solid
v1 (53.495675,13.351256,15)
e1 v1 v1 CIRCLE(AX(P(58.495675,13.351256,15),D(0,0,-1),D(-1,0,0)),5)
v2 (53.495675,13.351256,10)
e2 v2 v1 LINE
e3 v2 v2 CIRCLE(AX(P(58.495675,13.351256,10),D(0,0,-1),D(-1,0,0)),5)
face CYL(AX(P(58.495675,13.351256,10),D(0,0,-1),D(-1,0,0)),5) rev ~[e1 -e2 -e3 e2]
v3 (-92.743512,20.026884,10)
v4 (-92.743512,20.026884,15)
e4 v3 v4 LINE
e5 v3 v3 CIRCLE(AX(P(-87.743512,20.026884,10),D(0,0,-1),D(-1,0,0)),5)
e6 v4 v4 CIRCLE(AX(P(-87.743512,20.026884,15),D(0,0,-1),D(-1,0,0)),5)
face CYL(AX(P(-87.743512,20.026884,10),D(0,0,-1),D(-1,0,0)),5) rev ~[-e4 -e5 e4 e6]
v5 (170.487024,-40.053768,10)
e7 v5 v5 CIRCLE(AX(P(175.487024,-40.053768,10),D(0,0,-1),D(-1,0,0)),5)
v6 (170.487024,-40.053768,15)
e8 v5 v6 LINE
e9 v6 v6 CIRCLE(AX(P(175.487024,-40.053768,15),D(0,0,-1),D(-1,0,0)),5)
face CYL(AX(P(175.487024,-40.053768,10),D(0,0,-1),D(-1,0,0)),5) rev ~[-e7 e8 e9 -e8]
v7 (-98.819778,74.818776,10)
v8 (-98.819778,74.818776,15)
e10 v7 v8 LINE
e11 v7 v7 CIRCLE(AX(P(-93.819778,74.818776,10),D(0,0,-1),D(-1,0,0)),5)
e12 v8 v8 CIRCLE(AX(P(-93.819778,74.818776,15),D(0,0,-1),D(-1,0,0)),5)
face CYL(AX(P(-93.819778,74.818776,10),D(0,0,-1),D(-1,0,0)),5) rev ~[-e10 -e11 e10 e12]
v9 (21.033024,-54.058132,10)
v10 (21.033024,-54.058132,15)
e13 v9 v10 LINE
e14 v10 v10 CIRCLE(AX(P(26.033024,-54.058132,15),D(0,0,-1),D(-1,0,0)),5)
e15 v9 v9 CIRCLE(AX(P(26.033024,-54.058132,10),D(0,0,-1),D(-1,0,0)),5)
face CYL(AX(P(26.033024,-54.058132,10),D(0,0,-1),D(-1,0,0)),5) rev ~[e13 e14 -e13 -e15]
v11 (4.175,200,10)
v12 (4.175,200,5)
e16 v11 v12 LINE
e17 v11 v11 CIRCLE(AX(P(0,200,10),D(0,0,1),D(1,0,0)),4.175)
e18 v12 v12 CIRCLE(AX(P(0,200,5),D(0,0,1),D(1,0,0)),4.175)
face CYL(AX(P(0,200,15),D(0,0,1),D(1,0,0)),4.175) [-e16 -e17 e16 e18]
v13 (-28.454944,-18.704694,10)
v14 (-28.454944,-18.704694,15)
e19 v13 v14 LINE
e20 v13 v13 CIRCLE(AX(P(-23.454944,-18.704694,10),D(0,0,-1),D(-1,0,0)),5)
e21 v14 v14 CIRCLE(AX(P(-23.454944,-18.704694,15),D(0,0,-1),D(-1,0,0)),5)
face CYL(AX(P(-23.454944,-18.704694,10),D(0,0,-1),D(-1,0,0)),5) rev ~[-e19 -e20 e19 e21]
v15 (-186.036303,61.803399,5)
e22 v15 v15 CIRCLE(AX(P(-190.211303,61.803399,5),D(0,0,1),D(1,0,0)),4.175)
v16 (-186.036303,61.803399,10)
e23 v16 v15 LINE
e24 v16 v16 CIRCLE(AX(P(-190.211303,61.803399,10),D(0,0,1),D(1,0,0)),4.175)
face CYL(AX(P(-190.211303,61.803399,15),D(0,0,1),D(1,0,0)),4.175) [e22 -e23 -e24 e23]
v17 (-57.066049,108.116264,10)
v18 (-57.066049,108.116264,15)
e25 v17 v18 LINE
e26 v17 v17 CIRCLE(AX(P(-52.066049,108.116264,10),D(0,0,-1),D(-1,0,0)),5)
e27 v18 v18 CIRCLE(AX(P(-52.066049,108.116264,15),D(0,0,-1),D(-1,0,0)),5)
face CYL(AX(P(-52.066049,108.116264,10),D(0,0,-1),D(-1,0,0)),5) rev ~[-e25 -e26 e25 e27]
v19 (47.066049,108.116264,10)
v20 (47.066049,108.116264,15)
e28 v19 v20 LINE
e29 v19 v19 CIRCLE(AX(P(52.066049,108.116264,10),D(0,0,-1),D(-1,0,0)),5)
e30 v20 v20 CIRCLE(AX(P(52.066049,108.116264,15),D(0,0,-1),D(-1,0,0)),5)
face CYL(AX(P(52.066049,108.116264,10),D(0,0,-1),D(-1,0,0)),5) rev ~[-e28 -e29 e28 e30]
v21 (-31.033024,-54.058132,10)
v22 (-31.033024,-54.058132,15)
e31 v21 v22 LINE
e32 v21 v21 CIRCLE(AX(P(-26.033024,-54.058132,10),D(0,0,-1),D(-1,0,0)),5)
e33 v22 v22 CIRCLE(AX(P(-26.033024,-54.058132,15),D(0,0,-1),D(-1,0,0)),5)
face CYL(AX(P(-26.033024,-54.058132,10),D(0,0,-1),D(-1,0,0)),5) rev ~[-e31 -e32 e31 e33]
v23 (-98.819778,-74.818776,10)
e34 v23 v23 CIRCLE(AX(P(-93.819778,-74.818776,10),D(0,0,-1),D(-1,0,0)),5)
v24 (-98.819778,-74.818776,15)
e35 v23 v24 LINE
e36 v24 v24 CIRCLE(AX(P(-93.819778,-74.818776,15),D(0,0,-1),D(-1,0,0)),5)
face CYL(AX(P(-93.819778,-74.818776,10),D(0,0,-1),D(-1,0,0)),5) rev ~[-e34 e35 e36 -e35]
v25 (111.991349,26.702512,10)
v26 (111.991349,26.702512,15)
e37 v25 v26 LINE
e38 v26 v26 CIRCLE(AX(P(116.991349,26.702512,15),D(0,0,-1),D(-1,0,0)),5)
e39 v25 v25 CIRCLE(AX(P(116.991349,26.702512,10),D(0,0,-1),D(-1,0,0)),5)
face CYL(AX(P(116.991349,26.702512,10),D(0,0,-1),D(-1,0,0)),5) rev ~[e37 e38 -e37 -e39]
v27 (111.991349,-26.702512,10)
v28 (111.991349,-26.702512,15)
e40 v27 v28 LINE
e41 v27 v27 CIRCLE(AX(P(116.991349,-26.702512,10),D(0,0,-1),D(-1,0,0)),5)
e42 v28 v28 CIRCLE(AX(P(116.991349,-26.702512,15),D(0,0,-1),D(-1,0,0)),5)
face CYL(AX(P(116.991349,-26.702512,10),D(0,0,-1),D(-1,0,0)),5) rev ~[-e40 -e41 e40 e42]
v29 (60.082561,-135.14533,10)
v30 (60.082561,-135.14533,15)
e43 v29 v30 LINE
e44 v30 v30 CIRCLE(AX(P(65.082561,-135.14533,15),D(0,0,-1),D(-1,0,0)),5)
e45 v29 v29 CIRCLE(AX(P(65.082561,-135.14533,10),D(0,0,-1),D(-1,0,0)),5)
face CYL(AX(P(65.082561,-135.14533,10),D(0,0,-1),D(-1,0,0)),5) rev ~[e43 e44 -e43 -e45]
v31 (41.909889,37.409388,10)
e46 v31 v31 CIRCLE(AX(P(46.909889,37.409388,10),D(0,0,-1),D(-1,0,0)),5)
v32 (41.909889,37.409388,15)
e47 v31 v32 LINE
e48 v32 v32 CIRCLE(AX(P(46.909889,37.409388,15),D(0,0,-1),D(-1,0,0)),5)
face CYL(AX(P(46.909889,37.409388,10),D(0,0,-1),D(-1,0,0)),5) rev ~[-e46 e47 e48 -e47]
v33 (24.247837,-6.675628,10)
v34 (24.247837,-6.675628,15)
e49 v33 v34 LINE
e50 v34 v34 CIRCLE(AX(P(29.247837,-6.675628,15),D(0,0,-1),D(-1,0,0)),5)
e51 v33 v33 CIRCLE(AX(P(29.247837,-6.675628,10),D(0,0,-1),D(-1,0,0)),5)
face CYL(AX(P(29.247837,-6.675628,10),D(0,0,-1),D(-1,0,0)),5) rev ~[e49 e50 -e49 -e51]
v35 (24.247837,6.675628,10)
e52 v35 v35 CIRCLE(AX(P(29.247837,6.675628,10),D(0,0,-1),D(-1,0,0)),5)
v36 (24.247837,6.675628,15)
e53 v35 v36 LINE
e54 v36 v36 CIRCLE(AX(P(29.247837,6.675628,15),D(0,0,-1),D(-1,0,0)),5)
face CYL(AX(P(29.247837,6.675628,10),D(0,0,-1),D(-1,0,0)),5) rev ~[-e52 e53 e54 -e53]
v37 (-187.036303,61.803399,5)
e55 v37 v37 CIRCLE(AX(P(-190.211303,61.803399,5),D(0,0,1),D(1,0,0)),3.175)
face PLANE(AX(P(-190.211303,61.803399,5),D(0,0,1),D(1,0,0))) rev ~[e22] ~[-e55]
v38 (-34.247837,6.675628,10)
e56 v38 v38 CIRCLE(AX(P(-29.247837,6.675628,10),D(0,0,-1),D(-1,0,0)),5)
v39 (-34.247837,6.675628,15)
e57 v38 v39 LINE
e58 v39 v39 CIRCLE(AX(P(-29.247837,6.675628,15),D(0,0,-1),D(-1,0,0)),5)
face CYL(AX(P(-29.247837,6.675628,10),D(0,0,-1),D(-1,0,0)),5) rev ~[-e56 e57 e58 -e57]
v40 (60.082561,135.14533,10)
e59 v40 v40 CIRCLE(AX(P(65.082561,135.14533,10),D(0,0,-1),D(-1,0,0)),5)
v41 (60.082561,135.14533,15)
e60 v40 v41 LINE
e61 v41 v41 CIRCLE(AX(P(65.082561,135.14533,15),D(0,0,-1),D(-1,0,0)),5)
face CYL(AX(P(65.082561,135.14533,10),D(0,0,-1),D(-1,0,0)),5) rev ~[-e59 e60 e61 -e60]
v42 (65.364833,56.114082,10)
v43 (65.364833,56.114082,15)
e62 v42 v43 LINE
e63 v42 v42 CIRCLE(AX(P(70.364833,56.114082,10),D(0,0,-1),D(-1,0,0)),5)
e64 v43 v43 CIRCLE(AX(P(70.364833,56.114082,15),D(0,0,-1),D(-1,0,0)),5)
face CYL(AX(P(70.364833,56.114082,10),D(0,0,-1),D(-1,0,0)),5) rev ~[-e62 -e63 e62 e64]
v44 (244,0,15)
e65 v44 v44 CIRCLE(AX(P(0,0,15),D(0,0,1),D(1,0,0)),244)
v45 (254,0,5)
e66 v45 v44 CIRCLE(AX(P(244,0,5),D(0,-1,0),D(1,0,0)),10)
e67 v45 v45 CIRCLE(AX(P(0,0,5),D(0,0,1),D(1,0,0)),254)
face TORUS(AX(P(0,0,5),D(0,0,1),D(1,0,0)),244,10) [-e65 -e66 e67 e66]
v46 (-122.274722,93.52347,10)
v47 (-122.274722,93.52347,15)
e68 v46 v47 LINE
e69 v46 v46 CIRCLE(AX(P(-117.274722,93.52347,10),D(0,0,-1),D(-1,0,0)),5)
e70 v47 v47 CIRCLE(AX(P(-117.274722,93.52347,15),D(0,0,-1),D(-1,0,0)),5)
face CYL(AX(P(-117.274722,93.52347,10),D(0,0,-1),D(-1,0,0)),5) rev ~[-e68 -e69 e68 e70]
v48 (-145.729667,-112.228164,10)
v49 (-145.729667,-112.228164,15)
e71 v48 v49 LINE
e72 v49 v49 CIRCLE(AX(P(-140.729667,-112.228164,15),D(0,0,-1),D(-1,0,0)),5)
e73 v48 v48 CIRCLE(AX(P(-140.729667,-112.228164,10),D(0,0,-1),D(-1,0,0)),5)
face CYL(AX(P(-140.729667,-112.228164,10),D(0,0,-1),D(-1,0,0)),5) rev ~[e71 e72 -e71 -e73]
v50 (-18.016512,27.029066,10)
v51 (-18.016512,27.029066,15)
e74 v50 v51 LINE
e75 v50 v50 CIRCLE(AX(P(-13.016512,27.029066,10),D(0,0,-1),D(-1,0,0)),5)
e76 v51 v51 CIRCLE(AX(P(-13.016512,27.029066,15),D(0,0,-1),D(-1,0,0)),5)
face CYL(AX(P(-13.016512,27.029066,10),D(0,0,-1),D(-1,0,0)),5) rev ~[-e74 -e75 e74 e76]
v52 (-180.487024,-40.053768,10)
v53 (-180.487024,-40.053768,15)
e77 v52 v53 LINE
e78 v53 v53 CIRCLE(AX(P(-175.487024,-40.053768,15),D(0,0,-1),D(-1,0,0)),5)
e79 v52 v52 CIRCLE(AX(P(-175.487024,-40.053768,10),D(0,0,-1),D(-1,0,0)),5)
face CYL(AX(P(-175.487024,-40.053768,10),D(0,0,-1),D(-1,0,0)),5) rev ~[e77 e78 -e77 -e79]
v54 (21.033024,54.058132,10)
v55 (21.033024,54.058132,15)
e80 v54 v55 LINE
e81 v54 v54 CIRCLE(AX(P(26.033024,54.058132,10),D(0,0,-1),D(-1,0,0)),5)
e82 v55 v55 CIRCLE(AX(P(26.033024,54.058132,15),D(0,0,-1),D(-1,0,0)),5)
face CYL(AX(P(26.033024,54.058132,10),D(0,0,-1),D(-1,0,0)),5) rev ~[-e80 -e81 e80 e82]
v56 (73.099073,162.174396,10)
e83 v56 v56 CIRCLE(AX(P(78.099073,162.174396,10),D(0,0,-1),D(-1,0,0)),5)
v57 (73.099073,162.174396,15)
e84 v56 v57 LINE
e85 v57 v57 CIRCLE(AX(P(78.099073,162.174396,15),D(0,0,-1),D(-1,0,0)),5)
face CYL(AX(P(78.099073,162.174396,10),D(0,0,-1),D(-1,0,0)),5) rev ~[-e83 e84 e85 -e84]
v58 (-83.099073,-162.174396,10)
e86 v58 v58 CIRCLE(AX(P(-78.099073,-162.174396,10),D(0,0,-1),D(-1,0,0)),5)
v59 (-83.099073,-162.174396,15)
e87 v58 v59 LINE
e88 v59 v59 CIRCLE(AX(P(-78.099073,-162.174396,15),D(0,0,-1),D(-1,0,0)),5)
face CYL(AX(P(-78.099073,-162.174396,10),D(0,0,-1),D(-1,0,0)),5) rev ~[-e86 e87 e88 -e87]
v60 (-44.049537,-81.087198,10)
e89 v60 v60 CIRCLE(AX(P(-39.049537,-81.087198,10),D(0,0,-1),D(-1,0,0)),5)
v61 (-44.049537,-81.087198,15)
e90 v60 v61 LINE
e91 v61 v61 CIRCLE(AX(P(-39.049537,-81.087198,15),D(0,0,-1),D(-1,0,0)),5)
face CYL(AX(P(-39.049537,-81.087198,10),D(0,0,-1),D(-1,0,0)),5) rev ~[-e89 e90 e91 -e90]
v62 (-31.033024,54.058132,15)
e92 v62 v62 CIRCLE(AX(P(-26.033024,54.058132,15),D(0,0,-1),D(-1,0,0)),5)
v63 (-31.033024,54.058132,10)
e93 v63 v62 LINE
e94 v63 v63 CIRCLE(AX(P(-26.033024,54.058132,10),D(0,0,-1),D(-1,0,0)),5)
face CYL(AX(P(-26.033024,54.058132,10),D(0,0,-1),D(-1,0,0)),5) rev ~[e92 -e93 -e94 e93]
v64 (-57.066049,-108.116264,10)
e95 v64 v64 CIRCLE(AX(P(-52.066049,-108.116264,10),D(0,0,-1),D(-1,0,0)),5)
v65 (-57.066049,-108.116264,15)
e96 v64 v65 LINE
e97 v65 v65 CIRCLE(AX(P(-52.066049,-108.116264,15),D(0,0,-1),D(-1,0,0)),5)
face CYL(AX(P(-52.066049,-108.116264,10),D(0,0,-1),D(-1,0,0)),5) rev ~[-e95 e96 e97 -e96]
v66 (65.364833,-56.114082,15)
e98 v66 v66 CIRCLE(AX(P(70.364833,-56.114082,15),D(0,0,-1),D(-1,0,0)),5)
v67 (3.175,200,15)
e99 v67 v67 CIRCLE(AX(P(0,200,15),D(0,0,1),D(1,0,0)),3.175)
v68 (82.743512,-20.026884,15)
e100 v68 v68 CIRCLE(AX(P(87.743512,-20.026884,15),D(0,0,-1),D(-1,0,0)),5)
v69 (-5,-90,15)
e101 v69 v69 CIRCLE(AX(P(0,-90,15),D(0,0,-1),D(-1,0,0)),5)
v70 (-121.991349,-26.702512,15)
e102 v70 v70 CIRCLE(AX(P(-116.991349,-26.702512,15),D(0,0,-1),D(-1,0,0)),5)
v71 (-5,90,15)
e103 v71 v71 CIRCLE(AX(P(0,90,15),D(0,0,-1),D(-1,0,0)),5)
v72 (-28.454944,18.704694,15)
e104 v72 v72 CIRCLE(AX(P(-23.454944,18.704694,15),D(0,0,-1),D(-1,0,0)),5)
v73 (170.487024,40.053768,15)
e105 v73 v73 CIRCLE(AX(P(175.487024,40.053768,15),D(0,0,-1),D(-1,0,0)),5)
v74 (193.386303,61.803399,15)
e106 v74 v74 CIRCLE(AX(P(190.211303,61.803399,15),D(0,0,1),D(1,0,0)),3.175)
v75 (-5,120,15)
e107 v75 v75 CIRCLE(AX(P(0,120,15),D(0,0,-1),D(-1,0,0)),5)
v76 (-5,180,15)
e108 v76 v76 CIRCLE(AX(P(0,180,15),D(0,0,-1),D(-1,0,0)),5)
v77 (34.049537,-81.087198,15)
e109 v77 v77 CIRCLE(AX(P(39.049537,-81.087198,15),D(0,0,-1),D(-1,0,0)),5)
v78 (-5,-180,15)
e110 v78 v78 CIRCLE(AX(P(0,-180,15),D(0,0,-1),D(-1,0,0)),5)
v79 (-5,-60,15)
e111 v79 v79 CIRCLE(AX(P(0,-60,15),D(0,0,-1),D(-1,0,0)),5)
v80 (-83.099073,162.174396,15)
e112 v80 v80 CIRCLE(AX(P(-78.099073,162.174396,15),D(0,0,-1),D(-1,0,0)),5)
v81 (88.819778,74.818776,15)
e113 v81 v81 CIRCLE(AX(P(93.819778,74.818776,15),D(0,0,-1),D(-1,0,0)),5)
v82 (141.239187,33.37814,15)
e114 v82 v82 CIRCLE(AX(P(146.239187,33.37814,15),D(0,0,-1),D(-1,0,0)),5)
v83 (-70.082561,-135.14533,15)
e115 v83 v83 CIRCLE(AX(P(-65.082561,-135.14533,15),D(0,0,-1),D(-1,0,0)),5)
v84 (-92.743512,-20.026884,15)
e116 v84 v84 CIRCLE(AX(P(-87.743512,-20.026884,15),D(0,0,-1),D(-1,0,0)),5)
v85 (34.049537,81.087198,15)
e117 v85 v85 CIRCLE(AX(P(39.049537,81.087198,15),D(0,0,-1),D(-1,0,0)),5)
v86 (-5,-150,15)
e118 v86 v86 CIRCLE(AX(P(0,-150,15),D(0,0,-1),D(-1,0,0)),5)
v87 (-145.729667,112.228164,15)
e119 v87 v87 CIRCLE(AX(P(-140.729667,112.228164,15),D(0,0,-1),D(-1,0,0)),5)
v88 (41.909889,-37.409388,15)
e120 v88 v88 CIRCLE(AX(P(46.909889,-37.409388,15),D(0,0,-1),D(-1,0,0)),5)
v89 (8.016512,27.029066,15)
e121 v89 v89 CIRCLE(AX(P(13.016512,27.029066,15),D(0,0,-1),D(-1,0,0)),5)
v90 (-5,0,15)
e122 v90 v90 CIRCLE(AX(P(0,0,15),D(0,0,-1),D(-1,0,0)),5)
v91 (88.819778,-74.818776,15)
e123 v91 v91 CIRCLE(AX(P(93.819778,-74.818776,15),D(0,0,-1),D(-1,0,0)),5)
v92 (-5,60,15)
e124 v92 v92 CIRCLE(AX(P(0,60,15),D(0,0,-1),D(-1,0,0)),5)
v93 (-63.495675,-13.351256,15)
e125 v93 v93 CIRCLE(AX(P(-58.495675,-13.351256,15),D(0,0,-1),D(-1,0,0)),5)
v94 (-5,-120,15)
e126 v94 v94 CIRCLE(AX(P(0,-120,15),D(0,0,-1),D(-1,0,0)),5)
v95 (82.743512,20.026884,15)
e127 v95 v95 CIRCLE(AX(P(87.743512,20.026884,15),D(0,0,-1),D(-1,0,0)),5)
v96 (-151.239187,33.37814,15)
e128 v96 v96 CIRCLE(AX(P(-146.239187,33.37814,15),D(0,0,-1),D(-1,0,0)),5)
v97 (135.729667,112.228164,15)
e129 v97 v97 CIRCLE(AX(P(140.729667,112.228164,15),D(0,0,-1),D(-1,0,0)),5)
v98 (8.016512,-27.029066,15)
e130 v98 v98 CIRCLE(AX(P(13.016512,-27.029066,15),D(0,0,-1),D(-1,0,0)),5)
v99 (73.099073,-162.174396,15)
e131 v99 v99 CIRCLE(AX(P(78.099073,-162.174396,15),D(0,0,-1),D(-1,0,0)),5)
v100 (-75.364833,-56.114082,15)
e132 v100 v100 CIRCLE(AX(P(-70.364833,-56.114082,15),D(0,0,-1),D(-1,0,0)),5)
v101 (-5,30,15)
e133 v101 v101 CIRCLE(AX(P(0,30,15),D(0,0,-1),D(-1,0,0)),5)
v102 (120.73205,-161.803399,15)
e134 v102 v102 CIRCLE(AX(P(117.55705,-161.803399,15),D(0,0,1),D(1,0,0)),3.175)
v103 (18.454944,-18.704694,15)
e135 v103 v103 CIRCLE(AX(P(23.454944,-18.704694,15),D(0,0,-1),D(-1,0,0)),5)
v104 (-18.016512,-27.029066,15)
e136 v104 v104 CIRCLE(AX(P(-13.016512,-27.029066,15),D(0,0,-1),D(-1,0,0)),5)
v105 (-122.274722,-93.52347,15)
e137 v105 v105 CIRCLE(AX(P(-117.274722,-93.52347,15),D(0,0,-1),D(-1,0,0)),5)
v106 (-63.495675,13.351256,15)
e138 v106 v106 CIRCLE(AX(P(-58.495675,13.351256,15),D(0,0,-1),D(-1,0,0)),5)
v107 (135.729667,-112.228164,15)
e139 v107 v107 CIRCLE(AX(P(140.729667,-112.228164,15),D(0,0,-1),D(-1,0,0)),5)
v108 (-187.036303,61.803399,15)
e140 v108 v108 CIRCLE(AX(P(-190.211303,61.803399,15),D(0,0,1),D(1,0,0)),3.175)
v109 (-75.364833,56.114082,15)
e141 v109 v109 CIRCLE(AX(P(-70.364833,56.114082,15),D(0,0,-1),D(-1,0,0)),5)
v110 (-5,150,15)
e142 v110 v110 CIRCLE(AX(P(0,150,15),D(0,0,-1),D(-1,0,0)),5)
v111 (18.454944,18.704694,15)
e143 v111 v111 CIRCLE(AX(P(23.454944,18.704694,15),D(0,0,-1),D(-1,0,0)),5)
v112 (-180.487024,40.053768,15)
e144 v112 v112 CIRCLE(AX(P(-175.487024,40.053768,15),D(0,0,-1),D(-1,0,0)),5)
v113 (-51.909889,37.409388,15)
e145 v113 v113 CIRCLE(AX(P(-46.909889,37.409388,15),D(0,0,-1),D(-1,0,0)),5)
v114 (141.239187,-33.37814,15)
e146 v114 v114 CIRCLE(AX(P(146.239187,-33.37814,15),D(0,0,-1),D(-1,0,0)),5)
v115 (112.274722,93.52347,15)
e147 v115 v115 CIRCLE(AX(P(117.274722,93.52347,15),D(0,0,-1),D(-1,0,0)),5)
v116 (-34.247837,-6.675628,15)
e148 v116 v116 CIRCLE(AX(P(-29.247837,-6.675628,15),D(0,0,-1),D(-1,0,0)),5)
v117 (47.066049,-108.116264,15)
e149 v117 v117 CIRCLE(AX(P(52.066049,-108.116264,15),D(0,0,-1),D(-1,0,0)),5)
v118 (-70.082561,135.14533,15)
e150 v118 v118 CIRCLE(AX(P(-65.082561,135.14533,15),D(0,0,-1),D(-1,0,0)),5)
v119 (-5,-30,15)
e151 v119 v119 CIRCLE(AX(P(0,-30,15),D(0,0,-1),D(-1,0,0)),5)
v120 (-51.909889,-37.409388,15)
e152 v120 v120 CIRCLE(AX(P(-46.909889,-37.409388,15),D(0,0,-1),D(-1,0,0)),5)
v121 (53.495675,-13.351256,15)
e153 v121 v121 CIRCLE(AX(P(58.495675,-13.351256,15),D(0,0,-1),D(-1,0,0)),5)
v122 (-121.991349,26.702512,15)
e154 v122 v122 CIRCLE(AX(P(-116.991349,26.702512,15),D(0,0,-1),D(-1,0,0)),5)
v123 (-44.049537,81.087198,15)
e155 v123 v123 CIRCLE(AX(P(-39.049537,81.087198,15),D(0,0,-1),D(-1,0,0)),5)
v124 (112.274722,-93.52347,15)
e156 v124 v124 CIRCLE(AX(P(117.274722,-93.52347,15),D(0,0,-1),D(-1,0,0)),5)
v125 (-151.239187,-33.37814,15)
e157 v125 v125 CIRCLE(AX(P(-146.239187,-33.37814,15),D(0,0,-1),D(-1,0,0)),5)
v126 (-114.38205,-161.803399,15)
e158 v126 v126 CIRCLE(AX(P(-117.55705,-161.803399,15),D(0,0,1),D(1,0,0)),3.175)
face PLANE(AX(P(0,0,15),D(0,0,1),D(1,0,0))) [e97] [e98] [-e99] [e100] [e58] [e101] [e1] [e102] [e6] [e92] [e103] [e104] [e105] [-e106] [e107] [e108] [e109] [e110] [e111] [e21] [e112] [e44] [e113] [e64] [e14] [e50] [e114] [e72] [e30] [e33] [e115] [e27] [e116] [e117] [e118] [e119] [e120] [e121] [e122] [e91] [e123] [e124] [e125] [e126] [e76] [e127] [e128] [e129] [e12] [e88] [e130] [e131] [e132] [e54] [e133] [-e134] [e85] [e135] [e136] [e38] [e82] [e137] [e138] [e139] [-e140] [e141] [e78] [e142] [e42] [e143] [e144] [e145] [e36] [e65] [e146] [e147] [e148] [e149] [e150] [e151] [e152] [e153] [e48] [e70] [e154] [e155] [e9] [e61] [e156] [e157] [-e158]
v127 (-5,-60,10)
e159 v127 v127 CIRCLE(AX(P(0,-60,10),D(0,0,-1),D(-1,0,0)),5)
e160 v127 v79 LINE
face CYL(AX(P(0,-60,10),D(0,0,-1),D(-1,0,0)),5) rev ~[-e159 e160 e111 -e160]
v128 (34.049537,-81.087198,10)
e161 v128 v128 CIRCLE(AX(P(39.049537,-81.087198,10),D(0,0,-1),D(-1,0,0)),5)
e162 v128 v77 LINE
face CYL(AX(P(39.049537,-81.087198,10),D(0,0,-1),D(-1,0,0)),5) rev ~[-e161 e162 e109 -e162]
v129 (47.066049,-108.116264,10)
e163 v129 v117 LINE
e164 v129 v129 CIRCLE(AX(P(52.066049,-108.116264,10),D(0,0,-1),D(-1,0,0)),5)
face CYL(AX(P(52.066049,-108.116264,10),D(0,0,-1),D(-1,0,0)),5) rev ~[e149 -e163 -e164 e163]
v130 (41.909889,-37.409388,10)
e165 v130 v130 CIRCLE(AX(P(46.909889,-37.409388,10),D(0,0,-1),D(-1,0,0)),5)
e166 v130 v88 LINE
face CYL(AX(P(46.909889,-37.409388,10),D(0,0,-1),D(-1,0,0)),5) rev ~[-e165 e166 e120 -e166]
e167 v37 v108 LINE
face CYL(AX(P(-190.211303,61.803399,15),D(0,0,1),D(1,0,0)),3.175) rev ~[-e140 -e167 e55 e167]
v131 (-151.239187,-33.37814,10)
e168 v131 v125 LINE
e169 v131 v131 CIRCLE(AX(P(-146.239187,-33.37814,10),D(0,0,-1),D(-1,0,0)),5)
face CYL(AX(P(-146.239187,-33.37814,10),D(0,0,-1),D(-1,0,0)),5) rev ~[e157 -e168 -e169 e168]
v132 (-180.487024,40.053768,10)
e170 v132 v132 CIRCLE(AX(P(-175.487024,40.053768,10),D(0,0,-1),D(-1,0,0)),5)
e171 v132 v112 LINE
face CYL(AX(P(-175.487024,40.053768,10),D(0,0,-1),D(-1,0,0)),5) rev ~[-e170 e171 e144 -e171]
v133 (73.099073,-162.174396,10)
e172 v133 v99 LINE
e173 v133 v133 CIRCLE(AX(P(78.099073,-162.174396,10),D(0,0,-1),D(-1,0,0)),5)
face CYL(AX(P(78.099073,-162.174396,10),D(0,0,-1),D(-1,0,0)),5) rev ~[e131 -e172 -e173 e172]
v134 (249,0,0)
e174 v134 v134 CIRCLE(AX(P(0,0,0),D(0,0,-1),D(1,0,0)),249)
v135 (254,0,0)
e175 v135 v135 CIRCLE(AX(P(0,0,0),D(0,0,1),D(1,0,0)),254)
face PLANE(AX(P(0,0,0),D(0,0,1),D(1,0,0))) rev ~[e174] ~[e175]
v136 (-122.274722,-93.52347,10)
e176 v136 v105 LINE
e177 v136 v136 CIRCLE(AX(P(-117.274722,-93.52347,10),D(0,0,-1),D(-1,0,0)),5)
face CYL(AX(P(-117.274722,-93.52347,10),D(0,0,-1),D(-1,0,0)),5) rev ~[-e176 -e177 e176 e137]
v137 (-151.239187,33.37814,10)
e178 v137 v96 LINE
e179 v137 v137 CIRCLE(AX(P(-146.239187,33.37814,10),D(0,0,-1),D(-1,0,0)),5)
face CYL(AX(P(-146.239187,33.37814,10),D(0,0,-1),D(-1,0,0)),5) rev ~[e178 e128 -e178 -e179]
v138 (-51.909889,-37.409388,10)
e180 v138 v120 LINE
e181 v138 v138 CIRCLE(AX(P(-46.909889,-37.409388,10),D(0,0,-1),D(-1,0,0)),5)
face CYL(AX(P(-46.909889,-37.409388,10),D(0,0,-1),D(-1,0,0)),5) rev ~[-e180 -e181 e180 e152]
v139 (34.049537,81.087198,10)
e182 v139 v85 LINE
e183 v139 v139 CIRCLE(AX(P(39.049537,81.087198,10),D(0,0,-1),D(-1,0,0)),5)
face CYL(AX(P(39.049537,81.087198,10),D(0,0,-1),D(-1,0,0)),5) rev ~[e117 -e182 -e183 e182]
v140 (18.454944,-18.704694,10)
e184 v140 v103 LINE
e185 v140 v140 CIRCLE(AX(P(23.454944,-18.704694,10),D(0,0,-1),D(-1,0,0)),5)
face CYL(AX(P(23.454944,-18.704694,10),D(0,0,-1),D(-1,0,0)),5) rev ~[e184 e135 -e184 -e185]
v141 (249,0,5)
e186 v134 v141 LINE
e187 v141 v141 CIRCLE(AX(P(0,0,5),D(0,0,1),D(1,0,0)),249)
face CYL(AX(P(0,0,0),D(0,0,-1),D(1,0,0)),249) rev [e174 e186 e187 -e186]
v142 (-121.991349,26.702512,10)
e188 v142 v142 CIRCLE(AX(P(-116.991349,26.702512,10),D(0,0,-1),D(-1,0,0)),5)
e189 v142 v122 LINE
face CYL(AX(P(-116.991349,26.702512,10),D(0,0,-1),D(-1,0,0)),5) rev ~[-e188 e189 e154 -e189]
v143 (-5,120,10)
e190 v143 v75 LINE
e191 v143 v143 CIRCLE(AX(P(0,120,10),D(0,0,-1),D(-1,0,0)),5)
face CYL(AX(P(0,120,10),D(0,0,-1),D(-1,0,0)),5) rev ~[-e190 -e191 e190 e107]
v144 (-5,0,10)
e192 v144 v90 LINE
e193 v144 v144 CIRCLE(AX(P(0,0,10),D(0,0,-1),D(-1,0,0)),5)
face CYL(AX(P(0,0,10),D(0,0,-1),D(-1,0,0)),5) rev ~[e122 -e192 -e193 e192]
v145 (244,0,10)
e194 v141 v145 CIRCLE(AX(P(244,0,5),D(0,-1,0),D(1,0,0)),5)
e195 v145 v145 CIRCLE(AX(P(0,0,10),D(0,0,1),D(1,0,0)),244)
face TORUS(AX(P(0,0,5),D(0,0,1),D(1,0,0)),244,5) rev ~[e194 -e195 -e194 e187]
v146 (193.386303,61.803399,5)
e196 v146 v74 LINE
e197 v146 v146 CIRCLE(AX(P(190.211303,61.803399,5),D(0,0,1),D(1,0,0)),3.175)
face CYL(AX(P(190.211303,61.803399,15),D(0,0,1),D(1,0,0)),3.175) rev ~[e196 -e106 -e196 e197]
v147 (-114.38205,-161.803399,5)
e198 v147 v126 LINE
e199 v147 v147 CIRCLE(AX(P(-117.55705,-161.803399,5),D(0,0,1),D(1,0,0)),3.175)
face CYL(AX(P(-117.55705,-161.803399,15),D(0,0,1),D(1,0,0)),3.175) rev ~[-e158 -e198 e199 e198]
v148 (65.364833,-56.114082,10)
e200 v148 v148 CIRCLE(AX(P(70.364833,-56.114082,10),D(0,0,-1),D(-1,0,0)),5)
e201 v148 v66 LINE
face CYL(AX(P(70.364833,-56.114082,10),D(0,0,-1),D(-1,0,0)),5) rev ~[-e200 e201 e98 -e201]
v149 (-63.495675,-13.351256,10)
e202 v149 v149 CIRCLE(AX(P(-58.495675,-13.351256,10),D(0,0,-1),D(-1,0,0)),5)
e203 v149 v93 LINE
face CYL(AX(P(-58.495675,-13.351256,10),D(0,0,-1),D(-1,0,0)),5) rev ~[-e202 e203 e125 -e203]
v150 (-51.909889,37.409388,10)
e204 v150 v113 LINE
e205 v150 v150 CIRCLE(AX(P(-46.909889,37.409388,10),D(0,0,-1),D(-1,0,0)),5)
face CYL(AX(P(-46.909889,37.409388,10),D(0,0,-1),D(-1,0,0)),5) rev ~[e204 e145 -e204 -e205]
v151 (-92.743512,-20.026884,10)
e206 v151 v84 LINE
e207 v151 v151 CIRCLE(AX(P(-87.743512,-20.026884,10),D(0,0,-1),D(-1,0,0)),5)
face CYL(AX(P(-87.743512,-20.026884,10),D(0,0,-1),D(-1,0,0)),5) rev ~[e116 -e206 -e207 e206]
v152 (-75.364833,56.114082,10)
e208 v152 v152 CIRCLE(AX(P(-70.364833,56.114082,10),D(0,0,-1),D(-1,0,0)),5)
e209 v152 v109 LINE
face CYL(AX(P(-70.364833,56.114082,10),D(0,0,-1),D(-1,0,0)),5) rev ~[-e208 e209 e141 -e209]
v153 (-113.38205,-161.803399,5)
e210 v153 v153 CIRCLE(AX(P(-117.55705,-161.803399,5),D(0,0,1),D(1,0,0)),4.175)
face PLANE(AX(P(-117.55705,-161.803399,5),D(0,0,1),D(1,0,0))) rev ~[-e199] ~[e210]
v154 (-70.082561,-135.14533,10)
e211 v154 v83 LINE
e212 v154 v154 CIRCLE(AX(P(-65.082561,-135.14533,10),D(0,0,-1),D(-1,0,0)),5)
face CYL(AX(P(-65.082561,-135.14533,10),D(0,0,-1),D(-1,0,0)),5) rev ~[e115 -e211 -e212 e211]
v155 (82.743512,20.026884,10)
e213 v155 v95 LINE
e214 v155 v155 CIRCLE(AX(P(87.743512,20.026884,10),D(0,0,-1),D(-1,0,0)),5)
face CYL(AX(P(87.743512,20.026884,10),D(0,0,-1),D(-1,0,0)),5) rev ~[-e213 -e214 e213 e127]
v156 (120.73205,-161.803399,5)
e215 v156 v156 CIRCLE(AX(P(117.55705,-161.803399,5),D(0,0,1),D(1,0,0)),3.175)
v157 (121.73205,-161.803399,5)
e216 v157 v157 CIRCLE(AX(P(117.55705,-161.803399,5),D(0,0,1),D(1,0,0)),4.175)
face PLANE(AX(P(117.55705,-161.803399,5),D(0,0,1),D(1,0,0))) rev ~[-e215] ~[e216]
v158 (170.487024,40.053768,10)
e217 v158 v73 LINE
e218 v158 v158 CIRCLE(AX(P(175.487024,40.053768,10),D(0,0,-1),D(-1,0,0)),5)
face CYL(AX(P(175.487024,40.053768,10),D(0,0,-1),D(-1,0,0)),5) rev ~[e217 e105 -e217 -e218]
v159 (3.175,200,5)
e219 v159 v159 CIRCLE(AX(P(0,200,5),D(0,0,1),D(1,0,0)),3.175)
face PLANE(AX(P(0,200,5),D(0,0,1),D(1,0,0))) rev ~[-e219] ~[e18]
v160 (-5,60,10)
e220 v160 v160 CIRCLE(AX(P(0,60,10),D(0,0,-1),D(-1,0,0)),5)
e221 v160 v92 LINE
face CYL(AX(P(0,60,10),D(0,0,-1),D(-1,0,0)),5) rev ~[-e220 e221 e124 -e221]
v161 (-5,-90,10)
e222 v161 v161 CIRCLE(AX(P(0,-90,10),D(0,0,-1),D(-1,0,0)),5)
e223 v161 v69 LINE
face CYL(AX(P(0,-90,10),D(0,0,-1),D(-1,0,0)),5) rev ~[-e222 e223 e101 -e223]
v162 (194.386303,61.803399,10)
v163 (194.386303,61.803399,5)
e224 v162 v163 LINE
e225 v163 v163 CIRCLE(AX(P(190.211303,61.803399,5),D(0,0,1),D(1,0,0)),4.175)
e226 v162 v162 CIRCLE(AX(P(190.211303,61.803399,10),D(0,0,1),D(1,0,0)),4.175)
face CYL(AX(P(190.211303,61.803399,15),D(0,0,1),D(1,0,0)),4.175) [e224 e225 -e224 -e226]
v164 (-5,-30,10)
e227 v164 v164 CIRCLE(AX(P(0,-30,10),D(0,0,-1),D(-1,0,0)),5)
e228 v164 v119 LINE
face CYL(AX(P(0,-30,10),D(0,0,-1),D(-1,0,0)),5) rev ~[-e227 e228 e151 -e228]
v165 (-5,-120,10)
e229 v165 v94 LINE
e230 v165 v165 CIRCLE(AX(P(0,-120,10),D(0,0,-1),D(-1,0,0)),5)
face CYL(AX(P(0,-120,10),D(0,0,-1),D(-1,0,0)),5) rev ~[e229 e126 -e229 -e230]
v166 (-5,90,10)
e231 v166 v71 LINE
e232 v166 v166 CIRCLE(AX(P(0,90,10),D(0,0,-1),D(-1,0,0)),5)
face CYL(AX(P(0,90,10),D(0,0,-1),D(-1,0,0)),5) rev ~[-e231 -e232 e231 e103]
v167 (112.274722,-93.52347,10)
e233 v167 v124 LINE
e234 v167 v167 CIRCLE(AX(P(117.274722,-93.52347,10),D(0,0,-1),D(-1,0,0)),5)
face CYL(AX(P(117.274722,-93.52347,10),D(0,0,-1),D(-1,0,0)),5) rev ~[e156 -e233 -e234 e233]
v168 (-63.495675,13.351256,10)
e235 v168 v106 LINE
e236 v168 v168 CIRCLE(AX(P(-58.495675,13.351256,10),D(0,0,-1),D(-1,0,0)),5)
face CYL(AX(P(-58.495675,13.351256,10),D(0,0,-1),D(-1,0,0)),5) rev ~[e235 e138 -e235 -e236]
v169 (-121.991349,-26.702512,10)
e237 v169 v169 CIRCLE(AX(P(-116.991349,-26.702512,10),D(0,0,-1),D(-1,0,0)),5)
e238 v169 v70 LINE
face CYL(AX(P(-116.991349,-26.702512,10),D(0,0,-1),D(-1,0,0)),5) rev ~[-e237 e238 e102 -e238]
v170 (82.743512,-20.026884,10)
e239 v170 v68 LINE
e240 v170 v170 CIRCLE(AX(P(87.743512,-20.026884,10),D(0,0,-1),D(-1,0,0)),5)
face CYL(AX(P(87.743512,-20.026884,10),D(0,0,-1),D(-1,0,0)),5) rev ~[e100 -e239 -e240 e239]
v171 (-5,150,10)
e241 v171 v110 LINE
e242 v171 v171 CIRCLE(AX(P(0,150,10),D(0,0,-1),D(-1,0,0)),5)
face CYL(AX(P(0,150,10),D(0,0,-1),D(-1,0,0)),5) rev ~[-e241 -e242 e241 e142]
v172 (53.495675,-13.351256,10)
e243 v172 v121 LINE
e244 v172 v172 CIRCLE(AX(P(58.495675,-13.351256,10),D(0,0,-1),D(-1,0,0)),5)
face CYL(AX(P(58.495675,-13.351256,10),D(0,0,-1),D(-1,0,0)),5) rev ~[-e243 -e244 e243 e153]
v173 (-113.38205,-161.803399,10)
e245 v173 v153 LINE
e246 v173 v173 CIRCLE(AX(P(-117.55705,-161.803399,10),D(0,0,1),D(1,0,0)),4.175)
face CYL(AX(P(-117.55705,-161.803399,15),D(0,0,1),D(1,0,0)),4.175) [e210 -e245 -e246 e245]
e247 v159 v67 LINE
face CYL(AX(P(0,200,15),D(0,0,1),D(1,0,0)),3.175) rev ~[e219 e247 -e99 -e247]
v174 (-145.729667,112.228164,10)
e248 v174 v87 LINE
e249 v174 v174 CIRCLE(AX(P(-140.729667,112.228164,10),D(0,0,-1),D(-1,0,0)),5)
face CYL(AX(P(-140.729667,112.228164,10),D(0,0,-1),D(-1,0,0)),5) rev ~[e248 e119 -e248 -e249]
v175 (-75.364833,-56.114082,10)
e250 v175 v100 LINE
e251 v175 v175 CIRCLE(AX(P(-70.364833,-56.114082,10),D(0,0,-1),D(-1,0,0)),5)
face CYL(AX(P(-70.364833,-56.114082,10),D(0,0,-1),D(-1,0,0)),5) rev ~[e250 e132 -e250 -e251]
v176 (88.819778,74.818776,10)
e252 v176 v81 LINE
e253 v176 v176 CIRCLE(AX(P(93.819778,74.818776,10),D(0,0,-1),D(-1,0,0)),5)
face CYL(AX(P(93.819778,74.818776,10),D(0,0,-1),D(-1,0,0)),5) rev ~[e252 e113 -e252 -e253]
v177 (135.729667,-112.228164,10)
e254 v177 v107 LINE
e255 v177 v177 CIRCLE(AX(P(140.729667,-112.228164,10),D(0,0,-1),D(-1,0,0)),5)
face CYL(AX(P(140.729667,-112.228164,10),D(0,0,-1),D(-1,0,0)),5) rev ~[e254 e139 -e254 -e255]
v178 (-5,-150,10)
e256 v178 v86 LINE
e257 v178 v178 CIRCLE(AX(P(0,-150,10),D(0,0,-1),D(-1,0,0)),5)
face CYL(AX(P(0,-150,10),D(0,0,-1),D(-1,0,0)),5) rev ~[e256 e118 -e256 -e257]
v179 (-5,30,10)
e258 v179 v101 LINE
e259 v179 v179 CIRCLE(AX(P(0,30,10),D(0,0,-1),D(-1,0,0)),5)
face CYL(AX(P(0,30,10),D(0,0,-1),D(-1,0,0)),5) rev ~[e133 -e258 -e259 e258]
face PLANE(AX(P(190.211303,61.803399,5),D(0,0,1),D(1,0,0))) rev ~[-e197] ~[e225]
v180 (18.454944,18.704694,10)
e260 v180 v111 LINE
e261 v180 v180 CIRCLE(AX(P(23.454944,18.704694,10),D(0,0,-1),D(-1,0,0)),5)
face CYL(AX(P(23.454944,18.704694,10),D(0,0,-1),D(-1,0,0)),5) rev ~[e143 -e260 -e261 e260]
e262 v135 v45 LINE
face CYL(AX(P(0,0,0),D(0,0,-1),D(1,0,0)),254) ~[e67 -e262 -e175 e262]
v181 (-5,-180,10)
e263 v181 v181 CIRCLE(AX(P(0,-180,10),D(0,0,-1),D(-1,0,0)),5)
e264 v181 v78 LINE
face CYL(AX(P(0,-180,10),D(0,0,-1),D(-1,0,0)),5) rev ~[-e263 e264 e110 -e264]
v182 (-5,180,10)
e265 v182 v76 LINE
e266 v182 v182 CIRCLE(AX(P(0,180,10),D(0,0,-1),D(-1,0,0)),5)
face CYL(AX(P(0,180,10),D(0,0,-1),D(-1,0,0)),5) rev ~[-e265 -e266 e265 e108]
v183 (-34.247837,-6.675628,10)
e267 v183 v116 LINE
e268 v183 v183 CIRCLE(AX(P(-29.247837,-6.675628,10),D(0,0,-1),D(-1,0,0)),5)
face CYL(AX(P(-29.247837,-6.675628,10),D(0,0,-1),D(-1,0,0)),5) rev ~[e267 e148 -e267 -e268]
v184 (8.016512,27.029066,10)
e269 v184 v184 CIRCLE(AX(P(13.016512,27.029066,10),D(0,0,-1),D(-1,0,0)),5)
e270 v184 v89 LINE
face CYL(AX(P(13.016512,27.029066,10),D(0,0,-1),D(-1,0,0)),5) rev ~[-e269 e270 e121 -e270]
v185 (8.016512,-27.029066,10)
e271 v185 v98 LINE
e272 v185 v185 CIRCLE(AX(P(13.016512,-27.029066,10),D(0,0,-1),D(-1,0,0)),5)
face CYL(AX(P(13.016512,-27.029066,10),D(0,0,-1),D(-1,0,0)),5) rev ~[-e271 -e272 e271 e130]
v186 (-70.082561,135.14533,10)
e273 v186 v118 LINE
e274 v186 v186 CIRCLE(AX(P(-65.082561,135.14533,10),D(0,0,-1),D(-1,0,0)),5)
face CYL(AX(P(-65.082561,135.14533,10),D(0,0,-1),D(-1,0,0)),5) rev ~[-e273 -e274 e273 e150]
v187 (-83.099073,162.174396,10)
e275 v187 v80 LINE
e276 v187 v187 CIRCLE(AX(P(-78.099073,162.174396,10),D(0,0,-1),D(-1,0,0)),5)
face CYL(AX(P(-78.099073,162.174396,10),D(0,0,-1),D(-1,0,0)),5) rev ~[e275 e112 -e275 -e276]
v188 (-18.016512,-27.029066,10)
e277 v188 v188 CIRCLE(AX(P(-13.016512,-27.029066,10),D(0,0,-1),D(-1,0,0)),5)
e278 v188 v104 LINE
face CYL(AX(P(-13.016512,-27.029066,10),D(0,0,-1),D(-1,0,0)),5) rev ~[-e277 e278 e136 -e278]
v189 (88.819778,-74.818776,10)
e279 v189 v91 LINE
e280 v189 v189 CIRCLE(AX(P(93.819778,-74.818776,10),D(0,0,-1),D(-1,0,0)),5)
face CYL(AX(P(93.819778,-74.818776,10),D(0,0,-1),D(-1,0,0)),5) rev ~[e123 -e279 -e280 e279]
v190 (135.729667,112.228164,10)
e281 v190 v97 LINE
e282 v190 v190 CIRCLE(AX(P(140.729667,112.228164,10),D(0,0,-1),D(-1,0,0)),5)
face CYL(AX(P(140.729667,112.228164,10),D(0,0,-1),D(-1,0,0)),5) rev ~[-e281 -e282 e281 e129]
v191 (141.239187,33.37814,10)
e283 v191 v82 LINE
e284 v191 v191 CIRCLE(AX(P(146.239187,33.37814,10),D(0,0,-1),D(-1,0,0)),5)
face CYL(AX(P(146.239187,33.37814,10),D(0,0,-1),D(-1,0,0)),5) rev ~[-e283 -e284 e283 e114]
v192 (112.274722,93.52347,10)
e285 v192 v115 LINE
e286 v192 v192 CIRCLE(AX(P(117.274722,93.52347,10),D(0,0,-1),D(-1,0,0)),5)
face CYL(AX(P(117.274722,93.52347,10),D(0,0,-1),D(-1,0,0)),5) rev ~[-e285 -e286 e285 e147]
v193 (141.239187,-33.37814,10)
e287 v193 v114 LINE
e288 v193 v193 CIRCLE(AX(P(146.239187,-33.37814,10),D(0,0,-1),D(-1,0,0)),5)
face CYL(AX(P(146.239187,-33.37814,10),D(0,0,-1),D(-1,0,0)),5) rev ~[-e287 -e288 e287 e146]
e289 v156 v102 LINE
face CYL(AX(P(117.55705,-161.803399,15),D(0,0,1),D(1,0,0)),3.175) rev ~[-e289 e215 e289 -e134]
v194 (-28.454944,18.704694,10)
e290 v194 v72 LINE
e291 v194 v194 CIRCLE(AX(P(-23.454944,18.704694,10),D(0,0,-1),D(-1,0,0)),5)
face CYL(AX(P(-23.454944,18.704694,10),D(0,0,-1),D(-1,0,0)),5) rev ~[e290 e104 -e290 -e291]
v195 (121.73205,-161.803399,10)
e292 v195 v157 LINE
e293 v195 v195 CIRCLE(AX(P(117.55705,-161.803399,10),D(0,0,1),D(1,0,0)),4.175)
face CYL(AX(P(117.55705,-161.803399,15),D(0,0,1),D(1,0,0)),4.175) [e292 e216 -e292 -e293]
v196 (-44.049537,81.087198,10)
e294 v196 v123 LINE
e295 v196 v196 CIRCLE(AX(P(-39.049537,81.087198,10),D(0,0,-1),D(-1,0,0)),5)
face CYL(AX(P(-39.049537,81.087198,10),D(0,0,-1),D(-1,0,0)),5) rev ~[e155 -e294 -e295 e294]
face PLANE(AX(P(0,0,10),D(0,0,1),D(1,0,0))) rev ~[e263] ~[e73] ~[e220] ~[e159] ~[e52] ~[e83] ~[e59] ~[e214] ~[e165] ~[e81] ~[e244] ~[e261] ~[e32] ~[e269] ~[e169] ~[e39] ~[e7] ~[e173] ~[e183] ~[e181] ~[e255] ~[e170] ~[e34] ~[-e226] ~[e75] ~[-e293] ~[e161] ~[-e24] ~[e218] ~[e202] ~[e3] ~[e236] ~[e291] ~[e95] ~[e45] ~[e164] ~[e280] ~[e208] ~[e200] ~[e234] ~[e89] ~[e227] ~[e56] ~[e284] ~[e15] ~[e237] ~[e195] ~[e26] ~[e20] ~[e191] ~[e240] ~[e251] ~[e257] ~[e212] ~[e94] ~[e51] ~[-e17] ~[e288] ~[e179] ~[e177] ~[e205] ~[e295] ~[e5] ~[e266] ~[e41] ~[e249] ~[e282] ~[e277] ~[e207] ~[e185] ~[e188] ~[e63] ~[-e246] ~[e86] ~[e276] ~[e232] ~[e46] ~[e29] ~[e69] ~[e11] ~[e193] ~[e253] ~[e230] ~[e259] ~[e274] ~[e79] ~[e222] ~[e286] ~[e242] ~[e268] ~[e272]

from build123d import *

# Parameters (mm, degrees)
SKETCH2_R           = 254
BOSS_EXTRUDE1_DEPTH = 15
FILLET1_R           = 10
SHELL1_T            = -5
SKETCH3_7_R         = 3.175
CUT_EXTRUDE1_DEPTH  = 10
SKETCH3_R           = 4.175
SKETCH3_R_2         = 3.175
EXTRUDE_THIN1_DEPTH = 10
SKETCH5_R           = 5
CUT_EXTRUDE3_DEPTH  = 10


with BuildPart() as part:
    # Sketch2 → Boss-Extrude1 (new body)
    with BuildSketch(Plane.XY):
        Circle(SKETCH2_R)
    extrude(amount=BOSS_EXTRUDE1_DEPTH)

    # Fillet1
    fillet1_edges = [part.edges().sort_by_distance(p)[0] for p in [
        (-254, 0, 15),
    ]]
    fillet(fillet1_edges, radius=FILLET1_R)

    # Shell1
    shell1_openings = [part.faces().sort_by_distance(p)[0] for p in [
        (0, 0, 0),
    ]]
    offset(amount=SHELL1_T, openings=shell1_openings, kind=Kind.INTERSECTION)

    # Sketch3<7> → Cut-Extrude1 (cut)
    with BuildSketch(Plane.XY.offset(15)):
        with Locations((0, 200)):
            Circle(SKETCH3_7_R)
        with Locations((190.211303259, 61.803398875)):
            Circle(SKETCH3_7_R)
        with Locations((117.557050459, -161.803398875)):
            Circle(SKETCH3_7_R)
        with Locations((-117.557050458, -161.803398875)):
            Circle(SKETCH3_7_R)
        with Locations((-190.211303259, 61.803398875)):
            Circle(SKETCH3_7_R)
    extrude(amount=-CUT_EXTRUDE1_DEPTH, mode=Mode.SUBTRACT)

    # Sketch3 → Extrude-Thin1 (add)
    # profile 1 of 5: a face of its own
    with BuildSketch(Plane.XY.offset(15)):
        with Locations((0, 200)):
            Circle(SKETCH3_R)
        with Locations((0, 200)):
            Circle(SKETCH3_R_2, mode=Mode.SUBTRACT)
    # profile 2 of 5: a face of its own
    with BuildSketch(Plane.XY.offset(15)):
        with Locations((190.211303259, 61.803398875)):
            Circle(SKETCH3_R)
        with Locations((190.211303259, 61.803398875)):
            Circle(SKETCH3_R_2, mode=Mode.SUBTRACT)
    # profile 3 of 5: a face of its own
    with BuildSketch(Plane.XY.offset(15)):
        with Locations((117.557050459, -161.803398875)):
            Circle(SKETCH3_R)
        with Locations((117.557050459, -161.803398875)):
            Circle(SKETCH3_R_2, mode=Mode.SUBTRACT)
    # profile 4 of 5: a face of its own
    with BuildSketch(Plane.XY.offset(15)):
        with Locations((-117.557050458, -161.803398875)):
            Circle(SKETCH3_R)
        with Locations((-117.557050458, -161.803398875)):
            Circle(SKETCH3_R_2, mode=Mode.SUBTRACT)
    # profile 5 of 5: a face of its own
    with BuildSketch(Plane.XY.offset(15)):
        with Locations((-190.211303259, 61.803398875)):
            Circle(SKETCH3_R)
        with Locations((-190.211303259, 61.803398875)):
            Circle(SKETCH3_R_2, mode=Mode.SUBTRACT)
    extrude(amount=-EXTRUDE_THIN1_DEPTH)

    # Sketch5 → Cut-Extrude3 (cut)
    with BuildSketch(Plane(origin=(0, 0, 10), x_dir=(-1, 0, 0), z_dir=(0, 0, -1))):
        with Locations((0, 180)):
            Circle(SKETCH5_R)
        with Locations((0, 150)):
            Circle(SKETCH5_R)
        with Locations((0, 120)):
            Circle(SKETCH5_R)
        with Locations((0, 90)):
            Circle(SKETCH5_R)
        with Locations((0, 60)):
            Circle(SKETCH5_R)
        with Locations((0, 30)):
            Circle(SKETCH5_R)
        Circle(SKETCH5_R)
        with Locations((13.016512174, 27.029066037)):
            Circle(SKETCH5_R)
        with Locations((26.033024347, 54.058132074)):
            Circle(SKETCH5_R)
        with Locations((39.049536521, 81.087198111)):
            Circle(SKETCH5_R)
        with Locations((52.066048694, 108.116264148)):
            Circle(SKETCH5_R)
        with Locations((65.082560868, 135.145330185)):
            Circle(SKETCH5_R)
        with Locations((78.099073041, 162.174396222)):
            Circle(SKETCH5_R)
        with Locations((23.454944474, 18.704694056)):
            Circle(SKETCH5_R)
        with Locations((46.909888948, 37.409388112)):
            Circle(SKETCH5_R)
        with Locations((70.364833422, 56.114082167)):
            Circle(SKETCH5_R)
        with Locations((93.819777896, 74.818776223)):
            Circle(SKETCH5_R)
        with Locations((117.27472237, 93.523470279)):
            Circle(SKETCH5_R)
        with Locations((140.729666844, 112.228164335)):
            Circle(SKETCH5_R)
        with Locations((29.247837365, 6.675628019)):
            Circle(SKETCH5_R)
        with Locations((58.495674731, 13.351256037)):
            Circle(SKETCH5_R)
        with Locations((87.743512096, 20.026884056)):
            Circle(SKETCH5_R)
        with Locations((116.991349462, 26.702512075)):
            Circle(SKETCH5_R)
        with Locations((146.239186827, 33.378140093)):
            Circle(SKETCH5_R)
        with Locations((175.487024193, 40.053768112)):
            Circle(SKETCH5_R)
        with Locations((29.247837365, -6.675628019)):
            Circle(SKETCH5_R)
        with Locations((58.495674731, -13.351256037)):
            Circle(SKETCH5_R)
        with Locations((87.743512096, -20.026884056)):
            Circle(SKETCH5_R)
        with Locations((116.991349462, -26.702512075)):
            Circle(SKETCH5_R)
        with Locations((146.239186827, -33.378140093)):
            Circle(SKETCH5_R)
        with Locations((175.487024193, -40.053768112)):
            Circle(SKETCH5_R)
        with Locations((23.454944474, -18.704694056)):
            Circle(SKETCH5_R)
        with Locations((46.909888948, -37.409388112)):
            Circle(SKETCH5_R)
        with Locations((70.364833422, -56.114082167)):
            Circle(SKETCH5_R)
        with Locations((93.819777896, -74.818776223)):
            Circle(SKETCH5_R)
        with Locations((117.27472237, -93.523470279)):
            Circle(SKETCH5_R)
        with Locations((140.729666844, -112.228164335)):
            Circle(SKETCH5_R)
        with Locations((13.016512174, -27.029066037)):
            Circle(SKETCH5_R)
        with Locations((26.033024347, -54.058132074)):
            Circle(SKETCH5_R)
        with Locations((39.049536521, -81.087198111)):
            Circle(SKETCH5_R)
        with Locations((52.066048694, -108.116264148)):
            Circle(SKETCH5_R)
        with Locations((65.082560868, -135.145330185)):
            Circle(SKETCH5_R)
        with Locations((78.099073041, -162.174396222)):
            Circle(SKETCH5_R)
        with Locations((0, -30)):
            Circle(SKETCH5_R)
        with Locations((0, -60)):
            Circle(SKETCH5_R)
        with Locations((0, -90)):
            Circle(SKETCH5_R)
        with Locations((0, -120)):
            Circle(SKETCH5_R)
        with Locations((0, -150)):
            Circle(SKETCH5_R)
        with Locations((0, -180)):
            Circle(SKETCH5_R)
        with Locations((-13.016512174, -27.029066037)):
            Circle(SKETCH5_R)
        with Locations((-26.033024347, -54.058132074)):
            Circle(SKETCH5_R)
        with Locations((-39.049536521, -81.087198111)):
            Circle(SKETCH5_R)
        with Locations((-52.066048694, -108.116264148)):
            Circle(SKETCH5_R)
        with Locations((-65.082560868, -135.145330185)):
            Circle(SKETCH5_R)
        with Locations((-78.099073041, -162.174396222)):
            Circle(SKETCH5_R)
        with Locations((-23.454944474, -18.704694056)):
            Circle(SKETCH5_R)
        with Locations((-46.909888948, -37.409388112)):
            Circle(SKETCH5_R)
        with Locations((-70.364833422, -56.114082167)):
            Circle(SKETCH5_R)
        with Locations((-93.819777896, -74.818776223)):
            Circle(SKETCH5_R)
        with Locations((-117.27472237, -93.523470279)):
            Circle(SKETCH5_R)
        with Locations((-140.729666844, -112.228164335)):
            Circle(SKETCH5_R)
        with Locations((-29.247837365, -6.675628019)):
            Circle(SKETCH5_R)
        with Locations((-58.495674731, -13.351256037)):
            Circle(SKETCH5_R)
        with Locations((-87.743512096, -20.026884056)):
            Circle(SKETCH5_R)
        with Locations((-116.991349462, -26.702512075)):
            Circle(SKETCH5_R)
        with Locations((-146.239186827, -33.378140093)):
            Circle(SKETCH5_R)
        with Locations((-175.487024193, -40.053768112)):
            Circle(SKETCH5_R)
        with Locations((-29.247837365, 6.675628019)):
            Circle(SKETCH5_R)
        with Locations((-58.495674731, 13.351256037)):
            Circle(SKETCH5_R)
        with Locations((-87.743512096, 20.026884056)):
            Circle(SKETCH5_R)
        with Locations((-116.991349462, 26.702512075)):
            Circle(SKETCH5_R)
        with Locations((-146.239186827, 33.378140093)):
            Circle(SKETCH5_R)
        with Locations((-175.487024193, 40.053768112)):
            Circle(SKETCH5_R)
        with Locations((-23.454944474, 18.704694056)):
            Circle(SKETCH5_R)
        with Locations((-46.909888948, 37.409388112)):
            Circle(SKETCH5_R)
        with Locations((-70.364833422, 56.114082167)):
            Circle(SKETCH5_R)
        with Locations((-93.819777896, 74.818776223)):
            Circle(SKETCH5_R)
        with Locations((-117.27472237, 93.523470279)):
            Circle(SKETCH5_R)
        with Locations((-140.729666844, 112.228164335)):
            Circle(SKETCH5_R)
        with Locations((-13.016512174, 27.029066037)):
            Circle(SKETCH5_R)
        with Locations((-26.033024347, 54.058132074)):
            Circle(SKETCH5_R)
        with Locations((-39.049536521, 81.087198111)):
            Circle(SKETCH5_R)
        with Locations((-52.066048694, 108.116264148)):
            Circle(SKETCH5_R)
        with Locations((-65.082560868, 135.145330185)):
            Circle(SKETCH5_R)
        with Locations((-78.099073041, 162.174396222)):
            Circle(SKETCH5_R)
    extrude(amount=-CUT_EXTRUDE3_DEPTH, mode=Mode.SUBTRACT)


solid = part.part
